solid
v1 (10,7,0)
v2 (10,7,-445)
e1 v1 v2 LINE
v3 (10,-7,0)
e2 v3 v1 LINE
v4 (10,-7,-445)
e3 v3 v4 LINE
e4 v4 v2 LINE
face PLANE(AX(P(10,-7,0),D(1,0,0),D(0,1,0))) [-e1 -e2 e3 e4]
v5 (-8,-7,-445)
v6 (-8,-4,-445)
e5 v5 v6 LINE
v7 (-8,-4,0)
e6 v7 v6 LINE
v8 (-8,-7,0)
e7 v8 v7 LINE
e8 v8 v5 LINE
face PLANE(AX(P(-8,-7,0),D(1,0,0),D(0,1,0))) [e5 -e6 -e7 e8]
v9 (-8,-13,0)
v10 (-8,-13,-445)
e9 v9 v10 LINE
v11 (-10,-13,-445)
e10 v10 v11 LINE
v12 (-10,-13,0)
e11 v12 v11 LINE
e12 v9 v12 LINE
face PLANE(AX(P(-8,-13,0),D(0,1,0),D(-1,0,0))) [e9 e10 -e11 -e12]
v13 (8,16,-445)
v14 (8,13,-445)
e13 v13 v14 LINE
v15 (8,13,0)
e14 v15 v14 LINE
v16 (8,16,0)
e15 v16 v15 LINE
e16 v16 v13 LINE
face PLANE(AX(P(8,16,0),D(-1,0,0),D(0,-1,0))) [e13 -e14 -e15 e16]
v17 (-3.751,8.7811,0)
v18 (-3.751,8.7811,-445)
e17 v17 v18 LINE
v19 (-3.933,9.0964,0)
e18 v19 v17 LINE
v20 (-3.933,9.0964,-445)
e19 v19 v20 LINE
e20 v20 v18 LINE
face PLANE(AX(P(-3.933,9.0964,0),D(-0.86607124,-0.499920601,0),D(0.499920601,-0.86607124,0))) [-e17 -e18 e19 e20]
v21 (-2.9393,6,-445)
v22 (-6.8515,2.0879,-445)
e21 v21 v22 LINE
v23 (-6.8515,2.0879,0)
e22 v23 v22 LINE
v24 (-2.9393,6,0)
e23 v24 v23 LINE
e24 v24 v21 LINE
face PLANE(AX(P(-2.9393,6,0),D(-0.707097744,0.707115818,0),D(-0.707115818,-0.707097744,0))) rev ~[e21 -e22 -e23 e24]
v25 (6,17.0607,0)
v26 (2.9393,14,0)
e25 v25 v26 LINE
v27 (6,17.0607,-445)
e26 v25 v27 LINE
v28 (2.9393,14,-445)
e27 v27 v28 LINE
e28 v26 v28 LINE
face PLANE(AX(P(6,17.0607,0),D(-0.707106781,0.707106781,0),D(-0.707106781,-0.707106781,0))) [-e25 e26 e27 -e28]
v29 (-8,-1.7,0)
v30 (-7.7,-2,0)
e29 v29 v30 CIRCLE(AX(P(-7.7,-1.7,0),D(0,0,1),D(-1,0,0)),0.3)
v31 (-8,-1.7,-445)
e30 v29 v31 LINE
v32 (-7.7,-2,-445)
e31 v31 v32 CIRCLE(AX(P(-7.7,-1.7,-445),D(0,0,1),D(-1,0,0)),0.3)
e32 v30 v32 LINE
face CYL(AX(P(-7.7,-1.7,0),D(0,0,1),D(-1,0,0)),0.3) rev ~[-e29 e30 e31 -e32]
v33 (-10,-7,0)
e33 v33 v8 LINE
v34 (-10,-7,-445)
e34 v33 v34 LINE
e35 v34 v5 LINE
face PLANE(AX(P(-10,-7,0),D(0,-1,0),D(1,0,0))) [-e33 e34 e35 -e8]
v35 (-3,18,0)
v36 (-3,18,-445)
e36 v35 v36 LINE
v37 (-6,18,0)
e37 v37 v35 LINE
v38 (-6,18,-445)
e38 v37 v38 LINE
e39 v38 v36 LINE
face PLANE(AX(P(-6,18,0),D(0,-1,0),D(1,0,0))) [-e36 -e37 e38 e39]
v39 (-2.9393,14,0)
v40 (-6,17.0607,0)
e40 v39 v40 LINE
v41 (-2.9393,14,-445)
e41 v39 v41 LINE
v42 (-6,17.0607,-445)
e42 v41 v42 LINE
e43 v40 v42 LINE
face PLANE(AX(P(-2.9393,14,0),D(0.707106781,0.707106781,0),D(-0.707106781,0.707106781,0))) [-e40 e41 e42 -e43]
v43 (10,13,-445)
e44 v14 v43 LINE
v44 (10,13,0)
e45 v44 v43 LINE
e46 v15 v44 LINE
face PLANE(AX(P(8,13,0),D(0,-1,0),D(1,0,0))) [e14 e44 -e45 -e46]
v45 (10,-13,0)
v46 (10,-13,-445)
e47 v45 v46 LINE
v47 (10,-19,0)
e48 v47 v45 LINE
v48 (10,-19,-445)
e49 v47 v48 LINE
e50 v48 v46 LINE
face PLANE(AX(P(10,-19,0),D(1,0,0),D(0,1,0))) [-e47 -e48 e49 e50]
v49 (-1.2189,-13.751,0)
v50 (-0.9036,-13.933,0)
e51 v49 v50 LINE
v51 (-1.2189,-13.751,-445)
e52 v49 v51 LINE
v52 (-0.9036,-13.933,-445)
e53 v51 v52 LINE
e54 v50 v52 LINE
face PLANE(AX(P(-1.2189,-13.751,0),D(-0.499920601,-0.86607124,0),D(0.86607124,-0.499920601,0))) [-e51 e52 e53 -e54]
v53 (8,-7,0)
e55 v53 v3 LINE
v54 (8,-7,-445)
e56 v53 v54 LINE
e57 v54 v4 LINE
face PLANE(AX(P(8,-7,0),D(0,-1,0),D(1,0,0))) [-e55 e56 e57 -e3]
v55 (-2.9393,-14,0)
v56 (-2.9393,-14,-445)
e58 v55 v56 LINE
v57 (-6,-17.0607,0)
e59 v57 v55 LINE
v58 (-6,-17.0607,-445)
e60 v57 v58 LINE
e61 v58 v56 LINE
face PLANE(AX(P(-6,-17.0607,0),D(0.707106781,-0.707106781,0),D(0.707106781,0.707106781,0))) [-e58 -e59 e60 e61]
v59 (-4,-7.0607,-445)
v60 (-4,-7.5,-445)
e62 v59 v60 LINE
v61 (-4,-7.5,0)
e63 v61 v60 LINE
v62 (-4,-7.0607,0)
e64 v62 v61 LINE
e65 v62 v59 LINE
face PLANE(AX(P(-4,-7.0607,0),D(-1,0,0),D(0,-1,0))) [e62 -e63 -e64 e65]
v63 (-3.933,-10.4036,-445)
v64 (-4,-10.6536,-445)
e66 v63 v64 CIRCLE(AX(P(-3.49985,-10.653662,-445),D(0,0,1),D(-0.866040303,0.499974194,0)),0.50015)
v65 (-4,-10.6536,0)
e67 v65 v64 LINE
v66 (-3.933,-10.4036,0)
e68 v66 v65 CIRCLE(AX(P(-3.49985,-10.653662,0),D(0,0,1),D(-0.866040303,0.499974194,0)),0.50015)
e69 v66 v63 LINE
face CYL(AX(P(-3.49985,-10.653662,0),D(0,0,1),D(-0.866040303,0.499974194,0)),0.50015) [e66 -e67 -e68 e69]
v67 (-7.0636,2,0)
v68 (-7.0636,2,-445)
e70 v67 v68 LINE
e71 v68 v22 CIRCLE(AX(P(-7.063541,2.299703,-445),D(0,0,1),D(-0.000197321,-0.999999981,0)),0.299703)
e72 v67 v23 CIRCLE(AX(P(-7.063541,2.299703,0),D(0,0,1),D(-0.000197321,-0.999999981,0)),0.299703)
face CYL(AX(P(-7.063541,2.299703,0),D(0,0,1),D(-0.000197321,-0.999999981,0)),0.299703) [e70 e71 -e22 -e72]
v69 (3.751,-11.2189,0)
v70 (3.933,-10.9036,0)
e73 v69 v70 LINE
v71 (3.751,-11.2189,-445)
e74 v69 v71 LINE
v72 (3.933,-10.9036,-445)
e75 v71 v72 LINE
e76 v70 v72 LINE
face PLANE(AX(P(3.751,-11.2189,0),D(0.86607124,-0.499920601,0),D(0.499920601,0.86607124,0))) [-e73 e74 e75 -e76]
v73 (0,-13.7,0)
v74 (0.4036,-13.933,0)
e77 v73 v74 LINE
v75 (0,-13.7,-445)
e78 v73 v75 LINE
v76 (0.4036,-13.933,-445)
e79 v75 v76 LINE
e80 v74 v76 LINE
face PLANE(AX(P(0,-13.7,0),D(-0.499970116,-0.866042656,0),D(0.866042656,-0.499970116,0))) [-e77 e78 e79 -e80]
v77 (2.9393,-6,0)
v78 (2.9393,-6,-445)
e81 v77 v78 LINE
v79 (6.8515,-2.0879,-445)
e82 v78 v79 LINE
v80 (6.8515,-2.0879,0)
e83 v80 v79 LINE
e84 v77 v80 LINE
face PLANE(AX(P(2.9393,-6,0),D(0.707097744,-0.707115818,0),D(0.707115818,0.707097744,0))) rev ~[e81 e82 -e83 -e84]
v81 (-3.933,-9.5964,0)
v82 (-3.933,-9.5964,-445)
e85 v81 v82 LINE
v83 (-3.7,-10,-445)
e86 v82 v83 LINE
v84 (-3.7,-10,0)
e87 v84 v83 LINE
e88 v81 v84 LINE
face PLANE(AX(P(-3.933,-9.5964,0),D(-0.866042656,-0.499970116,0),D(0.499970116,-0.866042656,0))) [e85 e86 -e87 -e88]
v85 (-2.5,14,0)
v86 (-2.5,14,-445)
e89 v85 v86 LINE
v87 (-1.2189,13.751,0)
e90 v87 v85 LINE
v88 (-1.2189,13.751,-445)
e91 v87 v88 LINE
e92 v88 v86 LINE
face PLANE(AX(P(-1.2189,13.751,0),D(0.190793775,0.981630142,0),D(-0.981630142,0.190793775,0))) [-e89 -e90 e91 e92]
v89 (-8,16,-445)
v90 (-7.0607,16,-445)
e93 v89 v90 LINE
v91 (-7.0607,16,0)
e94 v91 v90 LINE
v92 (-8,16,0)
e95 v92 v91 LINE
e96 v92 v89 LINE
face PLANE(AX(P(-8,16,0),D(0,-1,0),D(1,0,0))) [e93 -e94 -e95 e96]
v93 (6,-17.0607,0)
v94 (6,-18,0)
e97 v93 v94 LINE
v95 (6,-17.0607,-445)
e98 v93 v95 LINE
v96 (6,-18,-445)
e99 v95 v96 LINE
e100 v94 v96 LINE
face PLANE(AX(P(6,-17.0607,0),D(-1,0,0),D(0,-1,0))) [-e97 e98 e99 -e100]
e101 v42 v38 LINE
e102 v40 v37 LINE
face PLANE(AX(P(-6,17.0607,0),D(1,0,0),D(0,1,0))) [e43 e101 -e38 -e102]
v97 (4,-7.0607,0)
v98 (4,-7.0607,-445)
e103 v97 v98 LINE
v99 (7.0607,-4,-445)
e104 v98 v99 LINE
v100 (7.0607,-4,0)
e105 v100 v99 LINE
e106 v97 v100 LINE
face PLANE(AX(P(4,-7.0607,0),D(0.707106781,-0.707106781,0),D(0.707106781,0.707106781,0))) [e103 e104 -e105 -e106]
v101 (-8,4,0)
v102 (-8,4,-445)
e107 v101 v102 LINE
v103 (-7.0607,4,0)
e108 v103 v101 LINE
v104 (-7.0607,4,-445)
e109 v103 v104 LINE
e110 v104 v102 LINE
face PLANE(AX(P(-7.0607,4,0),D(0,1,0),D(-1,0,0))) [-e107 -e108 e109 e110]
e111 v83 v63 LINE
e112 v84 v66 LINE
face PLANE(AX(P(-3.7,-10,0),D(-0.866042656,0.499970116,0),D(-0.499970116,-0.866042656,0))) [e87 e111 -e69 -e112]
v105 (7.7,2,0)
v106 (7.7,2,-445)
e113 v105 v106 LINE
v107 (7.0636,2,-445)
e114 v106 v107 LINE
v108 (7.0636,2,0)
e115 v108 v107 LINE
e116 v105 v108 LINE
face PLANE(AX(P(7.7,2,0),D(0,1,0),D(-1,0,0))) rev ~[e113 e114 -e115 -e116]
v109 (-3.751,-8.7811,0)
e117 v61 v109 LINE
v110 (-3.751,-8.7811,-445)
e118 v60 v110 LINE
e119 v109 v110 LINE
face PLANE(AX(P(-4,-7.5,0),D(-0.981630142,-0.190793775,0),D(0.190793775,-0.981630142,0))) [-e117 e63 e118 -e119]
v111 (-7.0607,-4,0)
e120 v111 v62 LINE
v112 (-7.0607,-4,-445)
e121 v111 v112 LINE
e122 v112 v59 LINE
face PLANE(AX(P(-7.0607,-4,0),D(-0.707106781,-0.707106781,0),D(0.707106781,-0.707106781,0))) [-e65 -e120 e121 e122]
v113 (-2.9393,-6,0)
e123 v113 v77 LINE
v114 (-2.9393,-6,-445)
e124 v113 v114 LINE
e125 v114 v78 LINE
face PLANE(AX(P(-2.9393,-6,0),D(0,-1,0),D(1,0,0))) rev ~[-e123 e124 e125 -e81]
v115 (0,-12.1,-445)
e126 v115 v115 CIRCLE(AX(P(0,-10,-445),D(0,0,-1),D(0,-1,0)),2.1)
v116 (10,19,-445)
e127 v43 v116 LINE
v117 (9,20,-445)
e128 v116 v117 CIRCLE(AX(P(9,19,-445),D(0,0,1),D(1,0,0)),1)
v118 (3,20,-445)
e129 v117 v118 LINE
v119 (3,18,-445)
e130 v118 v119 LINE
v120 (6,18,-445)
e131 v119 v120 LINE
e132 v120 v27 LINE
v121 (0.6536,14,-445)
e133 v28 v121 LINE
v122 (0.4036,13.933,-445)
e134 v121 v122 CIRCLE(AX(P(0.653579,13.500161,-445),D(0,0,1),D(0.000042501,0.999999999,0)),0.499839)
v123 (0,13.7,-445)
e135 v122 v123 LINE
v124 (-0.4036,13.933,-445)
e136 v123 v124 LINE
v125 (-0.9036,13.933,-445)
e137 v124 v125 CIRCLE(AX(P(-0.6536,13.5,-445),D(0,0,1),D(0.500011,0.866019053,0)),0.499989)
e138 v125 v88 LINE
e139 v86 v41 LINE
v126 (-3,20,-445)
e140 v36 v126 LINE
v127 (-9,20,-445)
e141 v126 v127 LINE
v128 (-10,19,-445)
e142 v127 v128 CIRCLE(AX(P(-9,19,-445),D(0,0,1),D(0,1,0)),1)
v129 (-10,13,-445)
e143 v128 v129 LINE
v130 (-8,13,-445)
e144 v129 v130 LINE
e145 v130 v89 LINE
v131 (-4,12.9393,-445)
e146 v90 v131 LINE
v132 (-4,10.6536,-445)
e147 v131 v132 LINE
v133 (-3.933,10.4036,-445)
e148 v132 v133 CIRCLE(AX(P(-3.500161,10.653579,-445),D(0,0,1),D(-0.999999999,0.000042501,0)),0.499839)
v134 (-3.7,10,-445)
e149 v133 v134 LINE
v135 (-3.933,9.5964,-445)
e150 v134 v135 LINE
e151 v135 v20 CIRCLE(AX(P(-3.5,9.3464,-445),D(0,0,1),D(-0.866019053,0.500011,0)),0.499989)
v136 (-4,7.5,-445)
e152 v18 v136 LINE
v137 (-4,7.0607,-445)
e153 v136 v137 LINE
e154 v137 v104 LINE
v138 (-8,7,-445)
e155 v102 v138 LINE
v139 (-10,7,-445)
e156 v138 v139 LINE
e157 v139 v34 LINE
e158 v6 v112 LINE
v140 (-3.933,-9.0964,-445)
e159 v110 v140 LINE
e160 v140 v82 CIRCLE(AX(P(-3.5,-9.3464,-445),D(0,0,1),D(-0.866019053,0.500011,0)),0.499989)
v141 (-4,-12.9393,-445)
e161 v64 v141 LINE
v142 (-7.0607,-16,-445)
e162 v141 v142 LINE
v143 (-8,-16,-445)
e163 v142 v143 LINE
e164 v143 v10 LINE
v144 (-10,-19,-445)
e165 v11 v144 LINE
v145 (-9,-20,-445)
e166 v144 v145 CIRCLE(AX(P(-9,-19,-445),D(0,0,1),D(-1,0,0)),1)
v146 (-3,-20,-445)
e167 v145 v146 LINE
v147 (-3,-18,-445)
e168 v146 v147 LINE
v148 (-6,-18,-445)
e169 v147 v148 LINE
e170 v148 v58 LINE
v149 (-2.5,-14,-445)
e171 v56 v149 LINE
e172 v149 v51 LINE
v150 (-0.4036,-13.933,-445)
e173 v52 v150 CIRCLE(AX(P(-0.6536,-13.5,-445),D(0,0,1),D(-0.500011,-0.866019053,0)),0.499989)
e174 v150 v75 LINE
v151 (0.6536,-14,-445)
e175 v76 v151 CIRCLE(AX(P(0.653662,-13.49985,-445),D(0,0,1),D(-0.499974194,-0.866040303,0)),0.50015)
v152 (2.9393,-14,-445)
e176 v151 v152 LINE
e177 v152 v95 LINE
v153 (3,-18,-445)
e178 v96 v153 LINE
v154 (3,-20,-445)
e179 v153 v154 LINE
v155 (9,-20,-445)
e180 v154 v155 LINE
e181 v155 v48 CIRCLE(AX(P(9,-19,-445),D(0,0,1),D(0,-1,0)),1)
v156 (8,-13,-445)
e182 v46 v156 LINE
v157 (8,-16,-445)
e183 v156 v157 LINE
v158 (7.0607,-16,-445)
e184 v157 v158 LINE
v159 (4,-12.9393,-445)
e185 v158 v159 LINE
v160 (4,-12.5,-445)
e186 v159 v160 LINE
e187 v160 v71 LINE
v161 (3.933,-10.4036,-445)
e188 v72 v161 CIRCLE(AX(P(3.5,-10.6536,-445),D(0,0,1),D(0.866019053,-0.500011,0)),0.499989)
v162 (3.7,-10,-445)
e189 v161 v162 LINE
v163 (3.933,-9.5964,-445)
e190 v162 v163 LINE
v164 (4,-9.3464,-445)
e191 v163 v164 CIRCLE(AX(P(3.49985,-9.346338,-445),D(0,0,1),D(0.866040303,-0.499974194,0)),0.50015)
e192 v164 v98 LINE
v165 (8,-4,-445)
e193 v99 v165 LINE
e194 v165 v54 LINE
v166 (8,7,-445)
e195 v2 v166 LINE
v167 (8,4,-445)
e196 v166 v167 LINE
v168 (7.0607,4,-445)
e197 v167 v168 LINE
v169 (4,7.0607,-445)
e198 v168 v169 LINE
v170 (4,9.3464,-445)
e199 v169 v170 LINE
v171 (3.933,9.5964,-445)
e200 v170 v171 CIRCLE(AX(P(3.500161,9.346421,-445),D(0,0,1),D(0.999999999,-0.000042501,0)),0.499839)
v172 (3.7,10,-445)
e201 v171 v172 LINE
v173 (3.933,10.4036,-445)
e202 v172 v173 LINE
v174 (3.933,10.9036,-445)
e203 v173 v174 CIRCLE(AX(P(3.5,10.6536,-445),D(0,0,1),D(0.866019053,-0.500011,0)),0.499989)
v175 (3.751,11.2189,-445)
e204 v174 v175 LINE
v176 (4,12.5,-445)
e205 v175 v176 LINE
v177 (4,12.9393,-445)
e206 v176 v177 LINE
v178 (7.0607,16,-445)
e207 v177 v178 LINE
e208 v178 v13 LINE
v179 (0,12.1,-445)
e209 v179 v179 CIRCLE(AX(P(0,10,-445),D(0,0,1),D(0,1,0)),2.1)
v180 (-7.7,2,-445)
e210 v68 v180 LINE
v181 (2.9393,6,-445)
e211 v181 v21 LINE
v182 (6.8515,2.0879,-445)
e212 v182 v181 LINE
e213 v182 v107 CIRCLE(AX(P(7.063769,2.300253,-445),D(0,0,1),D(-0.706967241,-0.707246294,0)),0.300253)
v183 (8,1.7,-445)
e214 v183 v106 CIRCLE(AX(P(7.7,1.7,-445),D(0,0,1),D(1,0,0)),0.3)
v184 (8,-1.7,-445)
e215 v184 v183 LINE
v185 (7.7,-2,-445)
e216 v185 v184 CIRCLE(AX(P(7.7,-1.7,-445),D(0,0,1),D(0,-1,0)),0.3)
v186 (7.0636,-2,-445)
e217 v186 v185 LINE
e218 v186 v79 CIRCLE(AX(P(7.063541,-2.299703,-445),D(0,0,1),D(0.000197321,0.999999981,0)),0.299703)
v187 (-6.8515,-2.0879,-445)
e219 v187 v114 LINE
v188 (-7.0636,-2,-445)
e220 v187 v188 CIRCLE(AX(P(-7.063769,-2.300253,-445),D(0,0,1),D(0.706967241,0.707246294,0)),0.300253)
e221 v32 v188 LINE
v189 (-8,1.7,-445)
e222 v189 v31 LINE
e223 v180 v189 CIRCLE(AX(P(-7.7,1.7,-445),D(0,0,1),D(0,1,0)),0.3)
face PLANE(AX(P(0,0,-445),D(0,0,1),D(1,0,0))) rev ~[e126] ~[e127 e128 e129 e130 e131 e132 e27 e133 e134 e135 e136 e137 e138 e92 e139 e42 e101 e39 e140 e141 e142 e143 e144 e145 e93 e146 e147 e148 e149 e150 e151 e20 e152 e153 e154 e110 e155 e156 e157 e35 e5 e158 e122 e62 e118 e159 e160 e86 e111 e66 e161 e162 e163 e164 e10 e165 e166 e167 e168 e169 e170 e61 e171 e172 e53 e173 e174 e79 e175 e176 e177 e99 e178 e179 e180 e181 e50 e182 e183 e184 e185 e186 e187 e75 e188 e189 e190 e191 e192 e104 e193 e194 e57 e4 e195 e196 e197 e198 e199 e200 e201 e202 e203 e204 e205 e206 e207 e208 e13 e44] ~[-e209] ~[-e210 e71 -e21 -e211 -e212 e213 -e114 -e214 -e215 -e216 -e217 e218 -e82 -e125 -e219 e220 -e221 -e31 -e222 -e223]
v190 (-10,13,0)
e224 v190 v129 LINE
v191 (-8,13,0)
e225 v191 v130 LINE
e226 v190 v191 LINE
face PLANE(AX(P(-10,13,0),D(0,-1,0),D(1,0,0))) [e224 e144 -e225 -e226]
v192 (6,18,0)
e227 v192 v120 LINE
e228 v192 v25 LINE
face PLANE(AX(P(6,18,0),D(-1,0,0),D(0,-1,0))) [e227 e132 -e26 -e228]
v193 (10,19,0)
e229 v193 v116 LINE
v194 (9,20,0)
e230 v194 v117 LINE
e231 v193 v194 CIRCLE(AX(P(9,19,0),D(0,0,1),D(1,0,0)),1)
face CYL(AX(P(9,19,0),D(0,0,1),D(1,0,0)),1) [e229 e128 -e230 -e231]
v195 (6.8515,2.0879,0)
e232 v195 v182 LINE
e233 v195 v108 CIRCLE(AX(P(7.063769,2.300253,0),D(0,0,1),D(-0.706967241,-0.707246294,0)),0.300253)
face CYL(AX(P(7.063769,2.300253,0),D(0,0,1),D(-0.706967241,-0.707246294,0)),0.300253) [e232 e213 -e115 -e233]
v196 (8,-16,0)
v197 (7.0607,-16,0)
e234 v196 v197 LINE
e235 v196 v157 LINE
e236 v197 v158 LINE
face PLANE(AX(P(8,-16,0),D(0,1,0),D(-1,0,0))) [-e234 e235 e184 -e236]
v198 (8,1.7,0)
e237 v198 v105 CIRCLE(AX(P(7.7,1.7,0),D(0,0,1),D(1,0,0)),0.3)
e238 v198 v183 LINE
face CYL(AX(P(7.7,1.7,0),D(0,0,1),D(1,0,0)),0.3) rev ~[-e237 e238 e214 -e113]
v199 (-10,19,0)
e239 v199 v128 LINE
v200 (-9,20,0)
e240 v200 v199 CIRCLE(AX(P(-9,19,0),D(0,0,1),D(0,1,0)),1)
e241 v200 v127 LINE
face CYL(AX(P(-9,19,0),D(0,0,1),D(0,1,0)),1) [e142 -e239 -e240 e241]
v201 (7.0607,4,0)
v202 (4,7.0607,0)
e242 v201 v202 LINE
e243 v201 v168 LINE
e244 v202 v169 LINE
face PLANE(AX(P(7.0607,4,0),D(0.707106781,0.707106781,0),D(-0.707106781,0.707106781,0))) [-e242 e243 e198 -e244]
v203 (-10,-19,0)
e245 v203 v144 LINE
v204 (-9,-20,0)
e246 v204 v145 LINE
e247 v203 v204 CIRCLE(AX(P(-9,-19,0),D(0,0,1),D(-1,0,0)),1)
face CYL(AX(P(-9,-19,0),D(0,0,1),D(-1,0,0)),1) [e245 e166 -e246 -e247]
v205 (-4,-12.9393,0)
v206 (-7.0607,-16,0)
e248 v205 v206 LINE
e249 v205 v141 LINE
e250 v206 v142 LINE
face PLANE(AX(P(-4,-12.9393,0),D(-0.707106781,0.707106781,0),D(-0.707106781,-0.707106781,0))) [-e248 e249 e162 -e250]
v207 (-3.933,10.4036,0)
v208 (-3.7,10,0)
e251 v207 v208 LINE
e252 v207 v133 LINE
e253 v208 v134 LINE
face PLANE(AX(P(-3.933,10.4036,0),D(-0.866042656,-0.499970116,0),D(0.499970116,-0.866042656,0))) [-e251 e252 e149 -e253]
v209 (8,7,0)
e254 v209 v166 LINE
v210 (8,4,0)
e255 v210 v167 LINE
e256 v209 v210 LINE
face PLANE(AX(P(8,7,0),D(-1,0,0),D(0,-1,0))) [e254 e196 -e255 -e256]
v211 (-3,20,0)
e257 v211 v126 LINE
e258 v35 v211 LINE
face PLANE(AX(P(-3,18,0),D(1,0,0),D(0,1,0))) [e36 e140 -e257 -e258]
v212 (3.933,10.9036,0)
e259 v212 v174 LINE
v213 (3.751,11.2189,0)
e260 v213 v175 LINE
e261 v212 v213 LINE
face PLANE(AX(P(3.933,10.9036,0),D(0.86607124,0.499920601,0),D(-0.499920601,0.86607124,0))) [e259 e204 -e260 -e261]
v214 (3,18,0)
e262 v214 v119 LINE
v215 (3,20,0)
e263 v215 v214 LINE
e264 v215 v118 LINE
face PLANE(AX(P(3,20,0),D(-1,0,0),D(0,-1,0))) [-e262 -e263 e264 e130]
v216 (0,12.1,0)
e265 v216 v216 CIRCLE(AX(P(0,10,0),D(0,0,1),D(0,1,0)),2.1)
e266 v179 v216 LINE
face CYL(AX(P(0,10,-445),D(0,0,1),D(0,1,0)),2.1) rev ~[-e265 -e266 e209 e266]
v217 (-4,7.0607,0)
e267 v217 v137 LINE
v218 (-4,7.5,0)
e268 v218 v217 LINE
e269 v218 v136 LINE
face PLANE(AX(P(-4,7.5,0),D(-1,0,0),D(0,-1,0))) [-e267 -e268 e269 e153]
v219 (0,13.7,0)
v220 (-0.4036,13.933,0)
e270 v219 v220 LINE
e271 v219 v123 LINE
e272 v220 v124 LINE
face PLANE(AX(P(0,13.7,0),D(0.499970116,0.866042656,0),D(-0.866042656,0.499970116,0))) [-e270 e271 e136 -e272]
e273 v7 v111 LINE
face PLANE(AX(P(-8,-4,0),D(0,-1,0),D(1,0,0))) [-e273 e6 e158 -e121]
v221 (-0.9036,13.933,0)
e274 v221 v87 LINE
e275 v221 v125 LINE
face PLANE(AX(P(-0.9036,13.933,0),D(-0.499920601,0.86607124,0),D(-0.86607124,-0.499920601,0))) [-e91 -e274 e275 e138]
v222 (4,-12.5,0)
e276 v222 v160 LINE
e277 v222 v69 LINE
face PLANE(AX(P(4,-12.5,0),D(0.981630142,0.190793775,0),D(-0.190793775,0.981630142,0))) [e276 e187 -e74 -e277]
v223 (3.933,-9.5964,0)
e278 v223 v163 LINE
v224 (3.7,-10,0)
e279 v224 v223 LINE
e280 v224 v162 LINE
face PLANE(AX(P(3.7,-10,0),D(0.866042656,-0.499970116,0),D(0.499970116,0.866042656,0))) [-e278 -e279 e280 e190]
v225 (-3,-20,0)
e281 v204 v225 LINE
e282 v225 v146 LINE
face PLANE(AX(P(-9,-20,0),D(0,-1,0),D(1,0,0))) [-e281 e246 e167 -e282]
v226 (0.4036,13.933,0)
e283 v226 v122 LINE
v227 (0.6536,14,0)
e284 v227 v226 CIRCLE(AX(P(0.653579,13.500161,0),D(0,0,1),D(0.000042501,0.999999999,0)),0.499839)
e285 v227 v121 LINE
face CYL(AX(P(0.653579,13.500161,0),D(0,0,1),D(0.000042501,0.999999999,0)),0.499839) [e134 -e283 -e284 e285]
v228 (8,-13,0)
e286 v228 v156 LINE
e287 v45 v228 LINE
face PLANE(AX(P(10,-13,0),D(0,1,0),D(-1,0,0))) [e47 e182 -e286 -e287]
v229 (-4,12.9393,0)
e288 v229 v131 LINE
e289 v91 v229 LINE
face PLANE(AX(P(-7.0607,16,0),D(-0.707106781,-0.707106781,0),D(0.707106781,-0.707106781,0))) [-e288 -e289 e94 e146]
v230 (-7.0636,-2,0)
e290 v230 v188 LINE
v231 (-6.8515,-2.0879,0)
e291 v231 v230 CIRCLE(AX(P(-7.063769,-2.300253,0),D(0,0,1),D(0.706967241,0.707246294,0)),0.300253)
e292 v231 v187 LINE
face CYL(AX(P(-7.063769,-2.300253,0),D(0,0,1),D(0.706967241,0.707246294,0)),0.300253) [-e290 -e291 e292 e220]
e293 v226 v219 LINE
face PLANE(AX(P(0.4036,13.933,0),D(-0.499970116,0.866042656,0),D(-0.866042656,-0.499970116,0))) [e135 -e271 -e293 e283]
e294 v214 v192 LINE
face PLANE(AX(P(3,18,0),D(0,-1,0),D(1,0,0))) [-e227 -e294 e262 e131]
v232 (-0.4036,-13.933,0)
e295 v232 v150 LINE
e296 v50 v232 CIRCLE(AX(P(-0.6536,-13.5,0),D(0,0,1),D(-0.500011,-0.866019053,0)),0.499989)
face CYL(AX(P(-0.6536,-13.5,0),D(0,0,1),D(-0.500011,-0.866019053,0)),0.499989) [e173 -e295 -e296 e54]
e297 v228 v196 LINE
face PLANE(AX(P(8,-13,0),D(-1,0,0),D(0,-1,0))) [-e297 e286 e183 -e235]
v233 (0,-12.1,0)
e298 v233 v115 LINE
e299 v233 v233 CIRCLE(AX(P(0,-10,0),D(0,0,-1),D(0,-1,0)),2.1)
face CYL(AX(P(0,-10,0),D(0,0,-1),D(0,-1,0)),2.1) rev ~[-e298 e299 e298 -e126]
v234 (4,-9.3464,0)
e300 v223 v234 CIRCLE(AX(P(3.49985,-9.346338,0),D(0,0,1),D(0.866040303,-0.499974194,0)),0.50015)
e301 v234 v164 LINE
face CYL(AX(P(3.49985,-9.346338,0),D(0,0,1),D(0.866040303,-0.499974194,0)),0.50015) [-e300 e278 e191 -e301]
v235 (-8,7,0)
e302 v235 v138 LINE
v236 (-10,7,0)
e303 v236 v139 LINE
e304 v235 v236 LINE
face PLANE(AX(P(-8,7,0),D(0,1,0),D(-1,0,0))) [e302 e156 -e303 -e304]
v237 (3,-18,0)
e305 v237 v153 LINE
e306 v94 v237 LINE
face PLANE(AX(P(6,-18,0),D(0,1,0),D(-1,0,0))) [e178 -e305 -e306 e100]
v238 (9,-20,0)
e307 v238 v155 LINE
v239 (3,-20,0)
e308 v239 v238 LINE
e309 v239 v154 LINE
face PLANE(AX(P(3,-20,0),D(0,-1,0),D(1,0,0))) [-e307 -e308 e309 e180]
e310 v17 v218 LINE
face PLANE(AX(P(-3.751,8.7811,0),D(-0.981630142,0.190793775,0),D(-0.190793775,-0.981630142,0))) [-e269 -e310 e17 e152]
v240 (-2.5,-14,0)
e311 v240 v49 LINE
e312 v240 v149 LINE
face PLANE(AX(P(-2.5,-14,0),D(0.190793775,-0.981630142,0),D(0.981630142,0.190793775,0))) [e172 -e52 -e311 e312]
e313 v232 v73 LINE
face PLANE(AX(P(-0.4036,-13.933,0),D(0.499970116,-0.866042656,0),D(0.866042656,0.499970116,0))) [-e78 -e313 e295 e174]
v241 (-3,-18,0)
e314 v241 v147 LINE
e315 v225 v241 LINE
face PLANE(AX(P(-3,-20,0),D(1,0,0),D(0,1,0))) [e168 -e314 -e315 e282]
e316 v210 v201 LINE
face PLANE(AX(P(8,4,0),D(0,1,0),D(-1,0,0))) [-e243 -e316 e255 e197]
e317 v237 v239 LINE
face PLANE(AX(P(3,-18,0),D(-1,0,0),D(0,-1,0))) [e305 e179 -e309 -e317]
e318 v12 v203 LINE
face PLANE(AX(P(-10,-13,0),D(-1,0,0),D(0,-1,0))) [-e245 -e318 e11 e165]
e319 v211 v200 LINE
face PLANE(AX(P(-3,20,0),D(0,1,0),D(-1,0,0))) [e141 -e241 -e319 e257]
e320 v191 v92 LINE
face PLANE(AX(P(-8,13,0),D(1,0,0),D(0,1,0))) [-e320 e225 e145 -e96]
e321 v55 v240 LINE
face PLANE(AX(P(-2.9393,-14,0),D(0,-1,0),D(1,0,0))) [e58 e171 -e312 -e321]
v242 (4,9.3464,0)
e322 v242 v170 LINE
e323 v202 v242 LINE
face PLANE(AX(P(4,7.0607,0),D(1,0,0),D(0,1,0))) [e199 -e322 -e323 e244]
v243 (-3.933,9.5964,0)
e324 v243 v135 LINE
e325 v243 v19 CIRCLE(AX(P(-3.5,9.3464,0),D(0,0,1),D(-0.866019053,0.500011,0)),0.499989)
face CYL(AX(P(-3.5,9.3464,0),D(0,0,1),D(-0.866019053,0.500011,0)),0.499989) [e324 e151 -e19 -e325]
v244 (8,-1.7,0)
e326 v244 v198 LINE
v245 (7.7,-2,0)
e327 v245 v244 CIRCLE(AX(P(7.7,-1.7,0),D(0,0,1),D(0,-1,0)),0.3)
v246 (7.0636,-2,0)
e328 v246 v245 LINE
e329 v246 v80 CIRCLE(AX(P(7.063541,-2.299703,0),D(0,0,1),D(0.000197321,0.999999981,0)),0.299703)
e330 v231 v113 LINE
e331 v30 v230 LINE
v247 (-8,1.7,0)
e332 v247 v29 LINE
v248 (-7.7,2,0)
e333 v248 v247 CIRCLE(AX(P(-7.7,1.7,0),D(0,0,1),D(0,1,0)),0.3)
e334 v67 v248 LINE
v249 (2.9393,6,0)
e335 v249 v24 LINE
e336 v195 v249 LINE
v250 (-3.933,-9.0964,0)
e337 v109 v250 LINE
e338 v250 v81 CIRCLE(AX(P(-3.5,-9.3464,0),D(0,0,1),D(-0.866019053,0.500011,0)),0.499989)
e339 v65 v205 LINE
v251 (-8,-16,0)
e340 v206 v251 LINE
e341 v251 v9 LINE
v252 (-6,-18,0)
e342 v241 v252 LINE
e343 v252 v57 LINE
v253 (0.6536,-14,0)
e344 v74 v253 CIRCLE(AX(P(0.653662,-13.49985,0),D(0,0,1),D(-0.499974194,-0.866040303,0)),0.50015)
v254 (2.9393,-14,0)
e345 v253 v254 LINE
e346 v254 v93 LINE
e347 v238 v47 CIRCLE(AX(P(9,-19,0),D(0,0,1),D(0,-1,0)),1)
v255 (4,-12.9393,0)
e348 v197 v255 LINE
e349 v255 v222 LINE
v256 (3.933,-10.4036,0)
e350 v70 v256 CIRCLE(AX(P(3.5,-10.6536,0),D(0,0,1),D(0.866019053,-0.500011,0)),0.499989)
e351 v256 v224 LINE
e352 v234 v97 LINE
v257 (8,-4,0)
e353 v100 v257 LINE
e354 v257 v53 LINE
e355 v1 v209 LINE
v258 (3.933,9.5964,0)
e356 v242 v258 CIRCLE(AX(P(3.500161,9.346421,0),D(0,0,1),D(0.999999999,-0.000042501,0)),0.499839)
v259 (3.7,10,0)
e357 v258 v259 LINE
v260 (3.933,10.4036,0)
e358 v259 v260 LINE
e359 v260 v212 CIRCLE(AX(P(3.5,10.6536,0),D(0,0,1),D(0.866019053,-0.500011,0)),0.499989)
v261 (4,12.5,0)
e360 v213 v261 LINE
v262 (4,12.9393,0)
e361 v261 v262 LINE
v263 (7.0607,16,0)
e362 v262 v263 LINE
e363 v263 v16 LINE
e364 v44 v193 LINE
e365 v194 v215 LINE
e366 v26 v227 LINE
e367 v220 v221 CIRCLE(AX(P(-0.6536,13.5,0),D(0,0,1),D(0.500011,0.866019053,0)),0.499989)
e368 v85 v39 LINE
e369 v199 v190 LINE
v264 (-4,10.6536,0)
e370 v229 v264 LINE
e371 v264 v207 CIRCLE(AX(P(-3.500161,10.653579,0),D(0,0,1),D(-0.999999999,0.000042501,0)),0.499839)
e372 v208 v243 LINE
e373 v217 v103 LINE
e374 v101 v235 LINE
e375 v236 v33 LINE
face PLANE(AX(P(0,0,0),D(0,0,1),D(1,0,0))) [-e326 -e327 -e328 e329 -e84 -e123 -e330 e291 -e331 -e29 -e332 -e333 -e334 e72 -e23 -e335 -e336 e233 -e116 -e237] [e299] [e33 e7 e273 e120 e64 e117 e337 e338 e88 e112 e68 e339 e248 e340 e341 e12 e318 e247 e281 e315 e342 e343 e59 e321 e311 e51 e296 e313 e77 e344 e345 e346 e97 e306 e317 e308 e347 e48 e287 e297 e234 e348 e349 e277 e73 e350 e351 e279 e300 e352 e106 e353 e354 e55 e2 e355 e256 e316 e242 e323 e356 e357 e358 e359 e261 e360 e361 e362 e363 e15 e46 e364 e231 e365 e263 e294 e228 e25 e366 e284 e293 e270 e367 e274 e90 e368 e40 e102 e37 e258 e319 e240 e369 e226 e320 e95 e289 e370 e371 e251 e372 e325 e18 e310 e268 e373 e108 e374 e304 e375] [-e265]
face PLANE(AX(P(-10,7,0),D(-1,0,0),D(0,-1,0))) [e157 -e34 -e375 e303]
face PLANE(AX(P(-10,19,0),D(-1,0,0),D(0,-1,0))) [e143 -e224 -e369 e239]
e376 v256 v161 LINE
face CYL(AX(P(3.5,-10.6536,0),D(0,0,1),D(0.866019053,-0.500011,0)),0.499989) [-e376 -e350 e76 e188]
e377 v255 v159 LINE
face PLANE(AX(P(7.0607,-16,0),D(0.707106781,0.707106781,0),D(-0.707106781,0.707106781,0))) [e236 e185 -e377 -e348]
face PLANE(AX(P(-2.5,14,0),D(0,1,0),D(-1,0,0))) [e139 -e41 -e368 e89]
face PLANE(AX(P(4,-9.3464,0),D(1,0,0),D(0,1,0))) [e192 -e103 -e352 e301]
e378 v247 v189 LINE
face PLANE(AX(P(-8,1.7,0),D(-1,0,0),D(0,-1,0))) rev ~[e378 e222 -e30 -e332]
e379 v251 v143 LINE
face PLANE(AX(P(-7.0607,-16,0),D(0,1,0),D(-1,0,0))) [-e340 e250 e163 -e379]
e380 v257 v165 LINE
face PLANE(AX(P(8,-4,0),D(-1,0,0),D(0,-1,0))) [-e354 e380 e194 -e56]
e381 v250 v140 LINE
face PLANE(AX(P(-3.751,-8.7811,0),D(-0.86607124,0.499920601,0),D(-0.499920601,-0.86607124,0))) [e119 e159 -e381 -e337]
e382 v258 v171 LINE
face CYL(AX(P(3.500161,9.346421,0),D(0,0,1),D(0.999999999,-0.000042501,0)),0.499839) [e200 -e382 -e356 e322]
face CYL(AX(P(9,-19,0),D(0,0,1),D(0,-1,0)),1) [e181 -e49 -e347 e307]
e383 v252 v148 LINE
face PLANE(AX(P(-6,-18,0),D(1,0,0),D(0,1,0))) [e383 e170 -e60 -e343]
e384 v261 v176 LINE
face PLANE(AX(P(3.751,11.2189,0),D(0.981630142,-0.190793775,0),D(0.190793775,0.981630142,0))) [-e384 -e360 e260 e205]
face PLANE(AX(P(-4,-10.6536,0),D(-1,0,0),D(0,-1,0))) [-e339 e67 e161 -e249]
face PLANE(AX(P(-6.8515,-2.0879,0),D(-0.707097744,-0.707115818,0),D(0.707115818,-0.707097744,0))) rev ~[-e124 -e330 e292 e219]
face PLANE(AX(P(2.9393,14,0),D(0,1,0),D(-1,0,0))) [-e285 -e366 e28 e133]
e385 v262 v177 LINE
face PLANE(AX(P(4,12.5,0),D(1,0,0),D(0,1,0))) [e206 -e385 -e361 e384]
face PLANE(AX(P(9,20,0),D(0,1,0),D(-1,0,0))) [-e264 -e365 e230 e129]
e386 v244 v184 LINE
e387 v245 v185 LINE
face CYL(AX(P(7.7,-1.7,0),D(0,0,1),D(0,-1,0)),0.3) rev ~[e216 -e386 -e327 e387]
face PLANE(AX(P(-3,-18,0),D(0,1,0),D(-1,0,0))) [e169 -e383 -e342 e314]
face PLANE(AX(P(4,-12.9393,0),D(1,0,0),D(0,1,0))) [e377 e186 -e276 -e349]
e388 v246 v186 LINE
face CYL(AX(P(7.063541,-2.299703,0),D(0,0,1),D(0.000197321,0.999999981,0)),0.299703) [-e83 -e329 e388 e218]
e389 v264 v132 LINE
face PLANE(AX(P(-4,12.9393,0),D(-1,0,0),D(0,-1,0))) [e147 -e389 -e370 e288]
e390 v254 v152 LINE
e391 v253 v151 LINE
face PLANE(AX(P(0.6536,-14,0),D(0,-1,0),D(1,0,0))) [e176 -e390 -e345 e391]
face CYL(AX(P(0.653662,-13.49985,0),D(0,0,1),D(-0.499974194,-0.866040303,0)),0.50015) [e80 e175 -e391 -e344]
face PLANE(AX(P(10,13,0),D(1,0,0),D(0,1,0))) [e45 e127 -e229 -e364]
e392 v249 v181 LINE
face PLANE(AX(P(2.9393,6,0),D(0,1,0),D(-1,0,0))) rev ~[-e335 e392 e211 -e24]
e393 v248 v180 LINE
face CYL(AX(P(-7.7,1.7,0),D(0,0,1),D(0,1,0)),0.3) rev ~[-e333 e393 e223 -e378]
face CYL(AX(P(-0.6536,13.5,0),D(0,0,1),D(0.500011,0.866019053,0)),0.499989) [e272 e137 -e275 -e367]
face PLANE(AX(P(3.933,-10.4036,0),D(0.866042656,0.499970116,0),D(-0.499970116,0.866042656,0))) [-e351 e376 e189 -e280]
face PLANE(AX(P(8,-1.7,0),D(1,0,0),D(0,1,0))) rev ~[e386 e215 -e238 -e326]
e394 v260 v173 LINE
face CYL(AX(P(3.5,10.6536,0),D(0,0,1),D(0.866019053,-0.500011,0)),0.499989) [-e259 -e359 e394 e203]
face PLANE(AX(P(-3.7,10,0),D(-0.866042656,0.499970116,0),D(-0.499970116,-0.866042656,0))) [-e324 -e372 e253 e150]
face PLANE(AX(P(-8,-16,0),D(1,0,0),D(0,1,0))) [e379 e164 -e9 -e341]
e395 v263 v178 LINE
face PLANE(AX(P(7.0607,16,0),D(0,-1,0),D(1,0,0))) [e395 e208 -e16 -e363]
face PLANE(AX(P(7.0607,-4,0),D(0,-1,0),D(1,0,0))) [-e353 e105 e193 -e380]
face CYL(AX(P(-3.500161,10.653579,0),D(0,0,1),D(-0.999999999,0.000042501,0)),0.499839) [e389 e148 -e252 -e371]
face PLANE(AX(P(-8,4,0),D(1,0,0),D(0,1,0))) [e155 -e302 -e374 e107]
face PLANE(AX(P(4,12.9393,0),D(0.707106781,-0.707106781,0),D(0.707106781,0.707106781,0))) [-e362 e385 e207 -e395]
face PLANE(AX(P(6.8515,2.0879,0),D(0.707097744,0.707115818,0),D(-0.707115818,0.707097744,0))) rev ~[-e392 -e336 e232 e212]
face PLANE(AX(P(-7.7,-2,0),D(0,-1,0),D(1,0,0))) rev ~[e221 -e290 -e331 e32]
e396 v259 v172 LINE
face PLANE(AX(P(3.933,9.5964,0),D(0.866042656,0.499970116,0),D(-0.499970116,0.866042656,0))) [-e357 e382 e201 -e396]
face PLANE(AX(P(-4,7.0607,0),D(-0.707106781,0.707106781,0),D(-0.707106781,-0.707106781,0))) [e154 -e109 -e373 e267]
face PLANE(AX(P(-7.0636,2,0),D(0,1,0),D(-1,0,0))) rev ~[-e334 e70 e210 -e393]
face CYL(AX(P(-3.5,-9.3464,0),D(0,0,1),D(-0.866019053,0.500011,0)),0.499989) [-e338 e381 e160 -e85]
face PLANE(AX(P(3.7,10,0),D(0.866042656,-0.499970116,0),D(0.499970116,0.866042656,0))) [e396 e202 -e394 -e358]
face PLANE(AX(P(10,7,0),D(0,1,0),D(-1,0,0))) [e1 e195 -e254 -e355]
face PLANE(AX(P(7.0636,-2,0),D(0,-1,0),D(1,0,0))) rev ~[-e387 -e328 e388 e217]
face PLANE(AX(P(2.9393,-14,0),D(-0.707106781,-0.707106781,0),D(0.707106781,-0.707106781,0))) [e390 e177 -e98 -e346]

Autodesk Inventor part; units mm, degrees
ref_plane "YZ Plane" through (0, 0, 0) normal (1, 0, 0) x (0, 1, 0)
ref_plane "XZ Plane" through (0, 0, 0) normal (0, 1, 0) x (-1, 0, 0)
ref_plane "XY Plane" through (0, 0, 0) normal (0, 0, 1) x (1, 0, 0)
sketch "_____4" plane through (0, 0, 0) normal (0, 0, 1) x (1, 0, 0)
  line L0 (-10, -7) -> (-8, -7)
  line L1 (-8, -7) -> (-8, -4)
  line L2 (-8, -4) -> (-7.0607, -4)
  line L3 (-7.0607, -4) -> (-4, -7.0607)
  line L4 (-4, -7.0607) -> (-4, -7.5)
  line L5 (-4, -7.5) -> (-3.751, -8.7811)
  line L6 (-3.751, -8.7811) -> (-3.933, -9.0964)
  arc A0 (-3.933, -9.0964) -> (-3.933, -9.5964) centre (-3.5, -9.3464) ccw
  line L7 (-3.933, -9.5964) -> (-3.7, -10)
  line L8 (-3.7, -10) -> (-3.933, -10.4036)
  arc A1 (-3.933, -10.4036) -> (-4, -10.6536) centre (-3.5, -10.6536) ccw
  line L9 (-4, -10.6536) -> (-4, -12.9393)
  line L10 (-4, -12.9393) -> (-7.0607, -16)
  line L11 (-7.0607, -16) -> (-8, -16)
  line L12 (-8, -16) -> (-8, -13)
  line L13 (-8, -13) -> (-10, -13)
  line L14 (-10, -13) -> (-10, -19)
  arc A2 (-10, -19) -> (-9, -20) centre (-9, -19) ccw
  line L15 (-9, -20) -> (-3, -20)
  line L16 (-3, -20) -> (-3, -18)
  line L17 (-3, -18) -> (-6, -18)
  line L18 (-6, -18) -> (-6, -17.0607)
  line L19 (-6, -17.0607) -> (-2.9393, -14)
  line L20 (-2.9393, -14) -> (-2.5, -14)
  line L21 (-2.5, -14) -> (-1.2189, -13.751)
  line L22 (-1.2189, -13.751) -> (-0.9036, -13.933)
  arc A3 (-0.9036, -13.933) -> (-0.4036, -13.933) centre (-0.6536, -13.5) ccw
  line L23 (-0.4036, -13.933) -> (0, -13.7)
  line L24 (0, -13.7) -> (0.4036, -13.933)
  arc A4 (0.4036, -13.933) -> (0.6536, -14) centre (0.6536, -13.5) ccw
  line L25 (0.6536, -14) -> (2.9393, -14)
  line L26 (2.9393, -14) -> (6, -17.0607)
  line L27 (6, -17.0607) -> (6, -18)
  line L28 (6, -18) -> (3, -18)
  line L29 (3, -18) -> (3, -20)
  line L30 (3, -20) -> (9, -20)
  arc A5 (9, -20) -> (10, -19) centre (9, -19) ccw
  line L31 (10, -19) -> (10, -13)
  line L32 (10, -13) -> (8, -13)
  line L33 (8, -13) -> (8, -16)
  line L34 (8, -16) -> (7.0607, -16)
  line L35 (7.0607, -16) -> (4, -12.9393)
  line L36 (4, -12.9393) -> (4, -12.5)
  line L37 (4, -12.5) -> (3.751, -11.2189)
  line L38 (3.751, -11.2189) -> (3.933, -10.9036)
  arc A6 (3.933, -10.9036) -> (3.933, -10.4036) centre (3.5, -10.6536) ccw
  line L39 (3.933, -10.4036) -> (3.7, -10)
  line L40 (3.7, -10) -> (3.933, -9.5964)
  arc A7 (3.933, -9.5964) -> (4, -9.3464) centre (3.5, -9.3464) ccw
  line L41 (4, -9.3464) -> (4, -7.0607)
  line L42 (4, -7.0607) -> (7.0607, -4)
  line L43 (7.0607, -4) -> (8, -4)
  line L44 (8, -4) -> (8, -7)
  line L45 (8, -7) -> (10, -7)
  line L46 (10, -7) -> (10, 7)
  line L47 (10, 7) -> (8, 7)
  line L48 (8, 7) -> (8, 4)
  line L49 (8, 4) -> (7.0607, 4)
  line L50 (7.0607, 4) -> (4, 7.0607)
  line L51 (4, 7.0607) -> (4, 9.3464)
  arc A8 (4, 9.3464) -> (3.933, 9.5964) centre (3.5, 9.3464) ccw
  line L52 (3.933, 9.5964) -> (3.7, 10)
  line L53 (3.7, 10) -> (3.933, 10.4036)
  arc A9 (3.933, 10.4036) -> (3.933, 10.9036) centre (3.5, 10.6536) ccw
  line L54 (3.933, 10.9036) -> (3.751, 11.2189)
  line L55 (3.751, 11.2189) -> (4, 12.5)
  line L56 (4, 12.5) -> (4, 12.9393)
  line L57 (4, 12.9393) -> (7.0607, 16)
  line L58 (7.0607, 16) -> (8, 16)
  line L59 (8, 16) -> (8, 13)
  line L60 (8, 13) -> (10, 13)
  line L61 (10, 13) -> (10, 19)
  arc A10 (10, 19) -> (9, 20) centre (9, 19) ccw
  line L62 (9, 20) -> (3, 20)
  line L63 (3, 20) -> (3, 18)
  line L64 (3, 18) -> (6, 18)
  line L65 (6, 18) -> (6, 17.0607)
  line L66 (6, 17.0607) -> (2.9393, 14)
  line L67 (2.9393, 14) -> (0.6536, 14)
  arc A11 (0.6536, 14) -> (0.4036, 13.933) centre (0.6536, 13.5) ccw
  line L68 (0.4036, 13.933) -> (0, 13.7)
  line L69 (0, 13.7) -> (-0.4036, 13.933)
  arc A12 (-0.4036, 13.933) -> (-0.9036, 13.933) centre (-0.6536, 13.5) ccw
  line L70 (-0.9036, 13.933) -> (-1.2189, 13.751)
  line L71 (-1.2189, 13.751) -> (-2.5, 14)
  line L72 (-2.5, 14) -> (-2.9393, 14)
  line L73 (-2.9393, 14) -> (-6, 17.0607)
  line L74 (-6, 17.0607) -> (-6, 18)
  line L75 (-6, 18) -> (-3, 18)
  line L76 (-3, 18) -> (-3, 20)
  line L77 (-3, 20) -> (-9, 20)
  arc A13 (-9, 20) -> (-10, 19) centre (-9, 19) ccw
  line L78 (-10, 19) -> (-10, 13)
  line L79 (-10, 13) -> (-8, 13)
  line L80 (-8, 13) -> (-8, 16)
  line L81 (-8, 16) -> (-7.0607, 16)
  line L82 (-7.0607, 16) -> (-4, 12.9393)
  line L83 (-4, 12.9393) -> (-4, 10.6536)
  arc A14 (-4, 10.6536) -> (-3.933, 10.4036) centre (-3.5, 10.6536) ccw
  line L84 (-3.933, 10.4036) -> (-3.7, 10)
  line L85 (-3.7, 10) -> (-3.933, 9.5964)
  arc A15 (-3.933, 9.5964) -> (-3.933, 9.0964) centre (-3.5, 9.3464) ccw
  line L86 (-3.933, 9.0964) -> (-3.751, 8.7811)
  line L87 (-3.751, 8.7811) -> (-4, 7.5)
  line L88 (-4, 7.5) -> (-4, 7.0607)
  line L89 (-4, 7.0607) -> (-7.0607, 4)
  line L90 (-7.0607, 4) -> (-8, 4)
  line L91 (-8, 4) -> (-8, 7)
  line L92 (-8, 7) -> (-10, 7)
  line L93 (-10, 7) -> (-10, -7)
  line L94 (-8, 1.7) -> (-8, -1.7)
  arc A16 (-8, -1.7) -> (-7.7, -2) centre (-7.7, -1.7) ccw
  line L95 (-7.7, -2) -> (-7.0636, -2)
  arc A17 (-6.8515, -2.0879) -> (-7.0636, -2) centre (-7.0636, -2.3) ccw
  line L96 (-6.8515, -2.0879) -> (-2.9393, -6)
  line L97 (-2.9393, -6) -> (2.9393, -6)
  line L98 (2.9393, -6) -> (6.8515, -2.0879)
  arc A18 (7.0636, -2) -> (6.8515, -2.0879) centre (7.0636, -2.3) ccw
  line L99 (7.0636, -2) -> (7.7, -2)
  arc A19 (7.7, -2) -> (8, -1.7) centre (7.7, -1.7) ccw
  line L100 (8, -1.7) -> (8, 1.7)
  arc A20 (8, 1.7) -> (7.7, 2) centre (7.7, 1.7) ccw
  line L101 (7.7, 2) -> (7.0636, 2)
  arc A21 (6.8515, 2.0879) -> (7.0636, 2) centre (7.0636, 2.3) ccw
  line L102 (6.8515, 2.0879) -> (2.9393, 6)
  line L103 (2.9393, 6) -> (-2.9393, 6)
  line L104 (-2.9393, 6) -> (-6.8515, 2.0879)
  arc A22 (-7.0636, 2) -> (-6.8515, 2.0879) centre (-7.0636, 2.3) ccw
  line L105 (-7.0636, 2) -> (-7.7, 2)
  arc A23 (-7.7, 2) -> (-8, 1.7) centre (-7.7, 1.7) ccw
extrude "Extrusion1" add sketch "_____4" against normal blind 445
sketch "Sketch2" plane through (0, 0, -445) normal (0, 0, -1) x (-1, 0, 0)
  point P0 (0, 10)
hole "Hole1" at (0, 10, -445) direction (0, 0, 1) diameter 4.2 depth 4000
sketch "Sketch3" plane through (0, 0, 0) normal (0, 0, 1) x (1, 0, 0)
  point P0 (0, -10)
hole "Hole2" at (0, -10, 0) direction (0, 0, -1) diameter 4.2 depth 4000
properties part number "KNFS5-2040_2" material "アルミニウム 6061"
